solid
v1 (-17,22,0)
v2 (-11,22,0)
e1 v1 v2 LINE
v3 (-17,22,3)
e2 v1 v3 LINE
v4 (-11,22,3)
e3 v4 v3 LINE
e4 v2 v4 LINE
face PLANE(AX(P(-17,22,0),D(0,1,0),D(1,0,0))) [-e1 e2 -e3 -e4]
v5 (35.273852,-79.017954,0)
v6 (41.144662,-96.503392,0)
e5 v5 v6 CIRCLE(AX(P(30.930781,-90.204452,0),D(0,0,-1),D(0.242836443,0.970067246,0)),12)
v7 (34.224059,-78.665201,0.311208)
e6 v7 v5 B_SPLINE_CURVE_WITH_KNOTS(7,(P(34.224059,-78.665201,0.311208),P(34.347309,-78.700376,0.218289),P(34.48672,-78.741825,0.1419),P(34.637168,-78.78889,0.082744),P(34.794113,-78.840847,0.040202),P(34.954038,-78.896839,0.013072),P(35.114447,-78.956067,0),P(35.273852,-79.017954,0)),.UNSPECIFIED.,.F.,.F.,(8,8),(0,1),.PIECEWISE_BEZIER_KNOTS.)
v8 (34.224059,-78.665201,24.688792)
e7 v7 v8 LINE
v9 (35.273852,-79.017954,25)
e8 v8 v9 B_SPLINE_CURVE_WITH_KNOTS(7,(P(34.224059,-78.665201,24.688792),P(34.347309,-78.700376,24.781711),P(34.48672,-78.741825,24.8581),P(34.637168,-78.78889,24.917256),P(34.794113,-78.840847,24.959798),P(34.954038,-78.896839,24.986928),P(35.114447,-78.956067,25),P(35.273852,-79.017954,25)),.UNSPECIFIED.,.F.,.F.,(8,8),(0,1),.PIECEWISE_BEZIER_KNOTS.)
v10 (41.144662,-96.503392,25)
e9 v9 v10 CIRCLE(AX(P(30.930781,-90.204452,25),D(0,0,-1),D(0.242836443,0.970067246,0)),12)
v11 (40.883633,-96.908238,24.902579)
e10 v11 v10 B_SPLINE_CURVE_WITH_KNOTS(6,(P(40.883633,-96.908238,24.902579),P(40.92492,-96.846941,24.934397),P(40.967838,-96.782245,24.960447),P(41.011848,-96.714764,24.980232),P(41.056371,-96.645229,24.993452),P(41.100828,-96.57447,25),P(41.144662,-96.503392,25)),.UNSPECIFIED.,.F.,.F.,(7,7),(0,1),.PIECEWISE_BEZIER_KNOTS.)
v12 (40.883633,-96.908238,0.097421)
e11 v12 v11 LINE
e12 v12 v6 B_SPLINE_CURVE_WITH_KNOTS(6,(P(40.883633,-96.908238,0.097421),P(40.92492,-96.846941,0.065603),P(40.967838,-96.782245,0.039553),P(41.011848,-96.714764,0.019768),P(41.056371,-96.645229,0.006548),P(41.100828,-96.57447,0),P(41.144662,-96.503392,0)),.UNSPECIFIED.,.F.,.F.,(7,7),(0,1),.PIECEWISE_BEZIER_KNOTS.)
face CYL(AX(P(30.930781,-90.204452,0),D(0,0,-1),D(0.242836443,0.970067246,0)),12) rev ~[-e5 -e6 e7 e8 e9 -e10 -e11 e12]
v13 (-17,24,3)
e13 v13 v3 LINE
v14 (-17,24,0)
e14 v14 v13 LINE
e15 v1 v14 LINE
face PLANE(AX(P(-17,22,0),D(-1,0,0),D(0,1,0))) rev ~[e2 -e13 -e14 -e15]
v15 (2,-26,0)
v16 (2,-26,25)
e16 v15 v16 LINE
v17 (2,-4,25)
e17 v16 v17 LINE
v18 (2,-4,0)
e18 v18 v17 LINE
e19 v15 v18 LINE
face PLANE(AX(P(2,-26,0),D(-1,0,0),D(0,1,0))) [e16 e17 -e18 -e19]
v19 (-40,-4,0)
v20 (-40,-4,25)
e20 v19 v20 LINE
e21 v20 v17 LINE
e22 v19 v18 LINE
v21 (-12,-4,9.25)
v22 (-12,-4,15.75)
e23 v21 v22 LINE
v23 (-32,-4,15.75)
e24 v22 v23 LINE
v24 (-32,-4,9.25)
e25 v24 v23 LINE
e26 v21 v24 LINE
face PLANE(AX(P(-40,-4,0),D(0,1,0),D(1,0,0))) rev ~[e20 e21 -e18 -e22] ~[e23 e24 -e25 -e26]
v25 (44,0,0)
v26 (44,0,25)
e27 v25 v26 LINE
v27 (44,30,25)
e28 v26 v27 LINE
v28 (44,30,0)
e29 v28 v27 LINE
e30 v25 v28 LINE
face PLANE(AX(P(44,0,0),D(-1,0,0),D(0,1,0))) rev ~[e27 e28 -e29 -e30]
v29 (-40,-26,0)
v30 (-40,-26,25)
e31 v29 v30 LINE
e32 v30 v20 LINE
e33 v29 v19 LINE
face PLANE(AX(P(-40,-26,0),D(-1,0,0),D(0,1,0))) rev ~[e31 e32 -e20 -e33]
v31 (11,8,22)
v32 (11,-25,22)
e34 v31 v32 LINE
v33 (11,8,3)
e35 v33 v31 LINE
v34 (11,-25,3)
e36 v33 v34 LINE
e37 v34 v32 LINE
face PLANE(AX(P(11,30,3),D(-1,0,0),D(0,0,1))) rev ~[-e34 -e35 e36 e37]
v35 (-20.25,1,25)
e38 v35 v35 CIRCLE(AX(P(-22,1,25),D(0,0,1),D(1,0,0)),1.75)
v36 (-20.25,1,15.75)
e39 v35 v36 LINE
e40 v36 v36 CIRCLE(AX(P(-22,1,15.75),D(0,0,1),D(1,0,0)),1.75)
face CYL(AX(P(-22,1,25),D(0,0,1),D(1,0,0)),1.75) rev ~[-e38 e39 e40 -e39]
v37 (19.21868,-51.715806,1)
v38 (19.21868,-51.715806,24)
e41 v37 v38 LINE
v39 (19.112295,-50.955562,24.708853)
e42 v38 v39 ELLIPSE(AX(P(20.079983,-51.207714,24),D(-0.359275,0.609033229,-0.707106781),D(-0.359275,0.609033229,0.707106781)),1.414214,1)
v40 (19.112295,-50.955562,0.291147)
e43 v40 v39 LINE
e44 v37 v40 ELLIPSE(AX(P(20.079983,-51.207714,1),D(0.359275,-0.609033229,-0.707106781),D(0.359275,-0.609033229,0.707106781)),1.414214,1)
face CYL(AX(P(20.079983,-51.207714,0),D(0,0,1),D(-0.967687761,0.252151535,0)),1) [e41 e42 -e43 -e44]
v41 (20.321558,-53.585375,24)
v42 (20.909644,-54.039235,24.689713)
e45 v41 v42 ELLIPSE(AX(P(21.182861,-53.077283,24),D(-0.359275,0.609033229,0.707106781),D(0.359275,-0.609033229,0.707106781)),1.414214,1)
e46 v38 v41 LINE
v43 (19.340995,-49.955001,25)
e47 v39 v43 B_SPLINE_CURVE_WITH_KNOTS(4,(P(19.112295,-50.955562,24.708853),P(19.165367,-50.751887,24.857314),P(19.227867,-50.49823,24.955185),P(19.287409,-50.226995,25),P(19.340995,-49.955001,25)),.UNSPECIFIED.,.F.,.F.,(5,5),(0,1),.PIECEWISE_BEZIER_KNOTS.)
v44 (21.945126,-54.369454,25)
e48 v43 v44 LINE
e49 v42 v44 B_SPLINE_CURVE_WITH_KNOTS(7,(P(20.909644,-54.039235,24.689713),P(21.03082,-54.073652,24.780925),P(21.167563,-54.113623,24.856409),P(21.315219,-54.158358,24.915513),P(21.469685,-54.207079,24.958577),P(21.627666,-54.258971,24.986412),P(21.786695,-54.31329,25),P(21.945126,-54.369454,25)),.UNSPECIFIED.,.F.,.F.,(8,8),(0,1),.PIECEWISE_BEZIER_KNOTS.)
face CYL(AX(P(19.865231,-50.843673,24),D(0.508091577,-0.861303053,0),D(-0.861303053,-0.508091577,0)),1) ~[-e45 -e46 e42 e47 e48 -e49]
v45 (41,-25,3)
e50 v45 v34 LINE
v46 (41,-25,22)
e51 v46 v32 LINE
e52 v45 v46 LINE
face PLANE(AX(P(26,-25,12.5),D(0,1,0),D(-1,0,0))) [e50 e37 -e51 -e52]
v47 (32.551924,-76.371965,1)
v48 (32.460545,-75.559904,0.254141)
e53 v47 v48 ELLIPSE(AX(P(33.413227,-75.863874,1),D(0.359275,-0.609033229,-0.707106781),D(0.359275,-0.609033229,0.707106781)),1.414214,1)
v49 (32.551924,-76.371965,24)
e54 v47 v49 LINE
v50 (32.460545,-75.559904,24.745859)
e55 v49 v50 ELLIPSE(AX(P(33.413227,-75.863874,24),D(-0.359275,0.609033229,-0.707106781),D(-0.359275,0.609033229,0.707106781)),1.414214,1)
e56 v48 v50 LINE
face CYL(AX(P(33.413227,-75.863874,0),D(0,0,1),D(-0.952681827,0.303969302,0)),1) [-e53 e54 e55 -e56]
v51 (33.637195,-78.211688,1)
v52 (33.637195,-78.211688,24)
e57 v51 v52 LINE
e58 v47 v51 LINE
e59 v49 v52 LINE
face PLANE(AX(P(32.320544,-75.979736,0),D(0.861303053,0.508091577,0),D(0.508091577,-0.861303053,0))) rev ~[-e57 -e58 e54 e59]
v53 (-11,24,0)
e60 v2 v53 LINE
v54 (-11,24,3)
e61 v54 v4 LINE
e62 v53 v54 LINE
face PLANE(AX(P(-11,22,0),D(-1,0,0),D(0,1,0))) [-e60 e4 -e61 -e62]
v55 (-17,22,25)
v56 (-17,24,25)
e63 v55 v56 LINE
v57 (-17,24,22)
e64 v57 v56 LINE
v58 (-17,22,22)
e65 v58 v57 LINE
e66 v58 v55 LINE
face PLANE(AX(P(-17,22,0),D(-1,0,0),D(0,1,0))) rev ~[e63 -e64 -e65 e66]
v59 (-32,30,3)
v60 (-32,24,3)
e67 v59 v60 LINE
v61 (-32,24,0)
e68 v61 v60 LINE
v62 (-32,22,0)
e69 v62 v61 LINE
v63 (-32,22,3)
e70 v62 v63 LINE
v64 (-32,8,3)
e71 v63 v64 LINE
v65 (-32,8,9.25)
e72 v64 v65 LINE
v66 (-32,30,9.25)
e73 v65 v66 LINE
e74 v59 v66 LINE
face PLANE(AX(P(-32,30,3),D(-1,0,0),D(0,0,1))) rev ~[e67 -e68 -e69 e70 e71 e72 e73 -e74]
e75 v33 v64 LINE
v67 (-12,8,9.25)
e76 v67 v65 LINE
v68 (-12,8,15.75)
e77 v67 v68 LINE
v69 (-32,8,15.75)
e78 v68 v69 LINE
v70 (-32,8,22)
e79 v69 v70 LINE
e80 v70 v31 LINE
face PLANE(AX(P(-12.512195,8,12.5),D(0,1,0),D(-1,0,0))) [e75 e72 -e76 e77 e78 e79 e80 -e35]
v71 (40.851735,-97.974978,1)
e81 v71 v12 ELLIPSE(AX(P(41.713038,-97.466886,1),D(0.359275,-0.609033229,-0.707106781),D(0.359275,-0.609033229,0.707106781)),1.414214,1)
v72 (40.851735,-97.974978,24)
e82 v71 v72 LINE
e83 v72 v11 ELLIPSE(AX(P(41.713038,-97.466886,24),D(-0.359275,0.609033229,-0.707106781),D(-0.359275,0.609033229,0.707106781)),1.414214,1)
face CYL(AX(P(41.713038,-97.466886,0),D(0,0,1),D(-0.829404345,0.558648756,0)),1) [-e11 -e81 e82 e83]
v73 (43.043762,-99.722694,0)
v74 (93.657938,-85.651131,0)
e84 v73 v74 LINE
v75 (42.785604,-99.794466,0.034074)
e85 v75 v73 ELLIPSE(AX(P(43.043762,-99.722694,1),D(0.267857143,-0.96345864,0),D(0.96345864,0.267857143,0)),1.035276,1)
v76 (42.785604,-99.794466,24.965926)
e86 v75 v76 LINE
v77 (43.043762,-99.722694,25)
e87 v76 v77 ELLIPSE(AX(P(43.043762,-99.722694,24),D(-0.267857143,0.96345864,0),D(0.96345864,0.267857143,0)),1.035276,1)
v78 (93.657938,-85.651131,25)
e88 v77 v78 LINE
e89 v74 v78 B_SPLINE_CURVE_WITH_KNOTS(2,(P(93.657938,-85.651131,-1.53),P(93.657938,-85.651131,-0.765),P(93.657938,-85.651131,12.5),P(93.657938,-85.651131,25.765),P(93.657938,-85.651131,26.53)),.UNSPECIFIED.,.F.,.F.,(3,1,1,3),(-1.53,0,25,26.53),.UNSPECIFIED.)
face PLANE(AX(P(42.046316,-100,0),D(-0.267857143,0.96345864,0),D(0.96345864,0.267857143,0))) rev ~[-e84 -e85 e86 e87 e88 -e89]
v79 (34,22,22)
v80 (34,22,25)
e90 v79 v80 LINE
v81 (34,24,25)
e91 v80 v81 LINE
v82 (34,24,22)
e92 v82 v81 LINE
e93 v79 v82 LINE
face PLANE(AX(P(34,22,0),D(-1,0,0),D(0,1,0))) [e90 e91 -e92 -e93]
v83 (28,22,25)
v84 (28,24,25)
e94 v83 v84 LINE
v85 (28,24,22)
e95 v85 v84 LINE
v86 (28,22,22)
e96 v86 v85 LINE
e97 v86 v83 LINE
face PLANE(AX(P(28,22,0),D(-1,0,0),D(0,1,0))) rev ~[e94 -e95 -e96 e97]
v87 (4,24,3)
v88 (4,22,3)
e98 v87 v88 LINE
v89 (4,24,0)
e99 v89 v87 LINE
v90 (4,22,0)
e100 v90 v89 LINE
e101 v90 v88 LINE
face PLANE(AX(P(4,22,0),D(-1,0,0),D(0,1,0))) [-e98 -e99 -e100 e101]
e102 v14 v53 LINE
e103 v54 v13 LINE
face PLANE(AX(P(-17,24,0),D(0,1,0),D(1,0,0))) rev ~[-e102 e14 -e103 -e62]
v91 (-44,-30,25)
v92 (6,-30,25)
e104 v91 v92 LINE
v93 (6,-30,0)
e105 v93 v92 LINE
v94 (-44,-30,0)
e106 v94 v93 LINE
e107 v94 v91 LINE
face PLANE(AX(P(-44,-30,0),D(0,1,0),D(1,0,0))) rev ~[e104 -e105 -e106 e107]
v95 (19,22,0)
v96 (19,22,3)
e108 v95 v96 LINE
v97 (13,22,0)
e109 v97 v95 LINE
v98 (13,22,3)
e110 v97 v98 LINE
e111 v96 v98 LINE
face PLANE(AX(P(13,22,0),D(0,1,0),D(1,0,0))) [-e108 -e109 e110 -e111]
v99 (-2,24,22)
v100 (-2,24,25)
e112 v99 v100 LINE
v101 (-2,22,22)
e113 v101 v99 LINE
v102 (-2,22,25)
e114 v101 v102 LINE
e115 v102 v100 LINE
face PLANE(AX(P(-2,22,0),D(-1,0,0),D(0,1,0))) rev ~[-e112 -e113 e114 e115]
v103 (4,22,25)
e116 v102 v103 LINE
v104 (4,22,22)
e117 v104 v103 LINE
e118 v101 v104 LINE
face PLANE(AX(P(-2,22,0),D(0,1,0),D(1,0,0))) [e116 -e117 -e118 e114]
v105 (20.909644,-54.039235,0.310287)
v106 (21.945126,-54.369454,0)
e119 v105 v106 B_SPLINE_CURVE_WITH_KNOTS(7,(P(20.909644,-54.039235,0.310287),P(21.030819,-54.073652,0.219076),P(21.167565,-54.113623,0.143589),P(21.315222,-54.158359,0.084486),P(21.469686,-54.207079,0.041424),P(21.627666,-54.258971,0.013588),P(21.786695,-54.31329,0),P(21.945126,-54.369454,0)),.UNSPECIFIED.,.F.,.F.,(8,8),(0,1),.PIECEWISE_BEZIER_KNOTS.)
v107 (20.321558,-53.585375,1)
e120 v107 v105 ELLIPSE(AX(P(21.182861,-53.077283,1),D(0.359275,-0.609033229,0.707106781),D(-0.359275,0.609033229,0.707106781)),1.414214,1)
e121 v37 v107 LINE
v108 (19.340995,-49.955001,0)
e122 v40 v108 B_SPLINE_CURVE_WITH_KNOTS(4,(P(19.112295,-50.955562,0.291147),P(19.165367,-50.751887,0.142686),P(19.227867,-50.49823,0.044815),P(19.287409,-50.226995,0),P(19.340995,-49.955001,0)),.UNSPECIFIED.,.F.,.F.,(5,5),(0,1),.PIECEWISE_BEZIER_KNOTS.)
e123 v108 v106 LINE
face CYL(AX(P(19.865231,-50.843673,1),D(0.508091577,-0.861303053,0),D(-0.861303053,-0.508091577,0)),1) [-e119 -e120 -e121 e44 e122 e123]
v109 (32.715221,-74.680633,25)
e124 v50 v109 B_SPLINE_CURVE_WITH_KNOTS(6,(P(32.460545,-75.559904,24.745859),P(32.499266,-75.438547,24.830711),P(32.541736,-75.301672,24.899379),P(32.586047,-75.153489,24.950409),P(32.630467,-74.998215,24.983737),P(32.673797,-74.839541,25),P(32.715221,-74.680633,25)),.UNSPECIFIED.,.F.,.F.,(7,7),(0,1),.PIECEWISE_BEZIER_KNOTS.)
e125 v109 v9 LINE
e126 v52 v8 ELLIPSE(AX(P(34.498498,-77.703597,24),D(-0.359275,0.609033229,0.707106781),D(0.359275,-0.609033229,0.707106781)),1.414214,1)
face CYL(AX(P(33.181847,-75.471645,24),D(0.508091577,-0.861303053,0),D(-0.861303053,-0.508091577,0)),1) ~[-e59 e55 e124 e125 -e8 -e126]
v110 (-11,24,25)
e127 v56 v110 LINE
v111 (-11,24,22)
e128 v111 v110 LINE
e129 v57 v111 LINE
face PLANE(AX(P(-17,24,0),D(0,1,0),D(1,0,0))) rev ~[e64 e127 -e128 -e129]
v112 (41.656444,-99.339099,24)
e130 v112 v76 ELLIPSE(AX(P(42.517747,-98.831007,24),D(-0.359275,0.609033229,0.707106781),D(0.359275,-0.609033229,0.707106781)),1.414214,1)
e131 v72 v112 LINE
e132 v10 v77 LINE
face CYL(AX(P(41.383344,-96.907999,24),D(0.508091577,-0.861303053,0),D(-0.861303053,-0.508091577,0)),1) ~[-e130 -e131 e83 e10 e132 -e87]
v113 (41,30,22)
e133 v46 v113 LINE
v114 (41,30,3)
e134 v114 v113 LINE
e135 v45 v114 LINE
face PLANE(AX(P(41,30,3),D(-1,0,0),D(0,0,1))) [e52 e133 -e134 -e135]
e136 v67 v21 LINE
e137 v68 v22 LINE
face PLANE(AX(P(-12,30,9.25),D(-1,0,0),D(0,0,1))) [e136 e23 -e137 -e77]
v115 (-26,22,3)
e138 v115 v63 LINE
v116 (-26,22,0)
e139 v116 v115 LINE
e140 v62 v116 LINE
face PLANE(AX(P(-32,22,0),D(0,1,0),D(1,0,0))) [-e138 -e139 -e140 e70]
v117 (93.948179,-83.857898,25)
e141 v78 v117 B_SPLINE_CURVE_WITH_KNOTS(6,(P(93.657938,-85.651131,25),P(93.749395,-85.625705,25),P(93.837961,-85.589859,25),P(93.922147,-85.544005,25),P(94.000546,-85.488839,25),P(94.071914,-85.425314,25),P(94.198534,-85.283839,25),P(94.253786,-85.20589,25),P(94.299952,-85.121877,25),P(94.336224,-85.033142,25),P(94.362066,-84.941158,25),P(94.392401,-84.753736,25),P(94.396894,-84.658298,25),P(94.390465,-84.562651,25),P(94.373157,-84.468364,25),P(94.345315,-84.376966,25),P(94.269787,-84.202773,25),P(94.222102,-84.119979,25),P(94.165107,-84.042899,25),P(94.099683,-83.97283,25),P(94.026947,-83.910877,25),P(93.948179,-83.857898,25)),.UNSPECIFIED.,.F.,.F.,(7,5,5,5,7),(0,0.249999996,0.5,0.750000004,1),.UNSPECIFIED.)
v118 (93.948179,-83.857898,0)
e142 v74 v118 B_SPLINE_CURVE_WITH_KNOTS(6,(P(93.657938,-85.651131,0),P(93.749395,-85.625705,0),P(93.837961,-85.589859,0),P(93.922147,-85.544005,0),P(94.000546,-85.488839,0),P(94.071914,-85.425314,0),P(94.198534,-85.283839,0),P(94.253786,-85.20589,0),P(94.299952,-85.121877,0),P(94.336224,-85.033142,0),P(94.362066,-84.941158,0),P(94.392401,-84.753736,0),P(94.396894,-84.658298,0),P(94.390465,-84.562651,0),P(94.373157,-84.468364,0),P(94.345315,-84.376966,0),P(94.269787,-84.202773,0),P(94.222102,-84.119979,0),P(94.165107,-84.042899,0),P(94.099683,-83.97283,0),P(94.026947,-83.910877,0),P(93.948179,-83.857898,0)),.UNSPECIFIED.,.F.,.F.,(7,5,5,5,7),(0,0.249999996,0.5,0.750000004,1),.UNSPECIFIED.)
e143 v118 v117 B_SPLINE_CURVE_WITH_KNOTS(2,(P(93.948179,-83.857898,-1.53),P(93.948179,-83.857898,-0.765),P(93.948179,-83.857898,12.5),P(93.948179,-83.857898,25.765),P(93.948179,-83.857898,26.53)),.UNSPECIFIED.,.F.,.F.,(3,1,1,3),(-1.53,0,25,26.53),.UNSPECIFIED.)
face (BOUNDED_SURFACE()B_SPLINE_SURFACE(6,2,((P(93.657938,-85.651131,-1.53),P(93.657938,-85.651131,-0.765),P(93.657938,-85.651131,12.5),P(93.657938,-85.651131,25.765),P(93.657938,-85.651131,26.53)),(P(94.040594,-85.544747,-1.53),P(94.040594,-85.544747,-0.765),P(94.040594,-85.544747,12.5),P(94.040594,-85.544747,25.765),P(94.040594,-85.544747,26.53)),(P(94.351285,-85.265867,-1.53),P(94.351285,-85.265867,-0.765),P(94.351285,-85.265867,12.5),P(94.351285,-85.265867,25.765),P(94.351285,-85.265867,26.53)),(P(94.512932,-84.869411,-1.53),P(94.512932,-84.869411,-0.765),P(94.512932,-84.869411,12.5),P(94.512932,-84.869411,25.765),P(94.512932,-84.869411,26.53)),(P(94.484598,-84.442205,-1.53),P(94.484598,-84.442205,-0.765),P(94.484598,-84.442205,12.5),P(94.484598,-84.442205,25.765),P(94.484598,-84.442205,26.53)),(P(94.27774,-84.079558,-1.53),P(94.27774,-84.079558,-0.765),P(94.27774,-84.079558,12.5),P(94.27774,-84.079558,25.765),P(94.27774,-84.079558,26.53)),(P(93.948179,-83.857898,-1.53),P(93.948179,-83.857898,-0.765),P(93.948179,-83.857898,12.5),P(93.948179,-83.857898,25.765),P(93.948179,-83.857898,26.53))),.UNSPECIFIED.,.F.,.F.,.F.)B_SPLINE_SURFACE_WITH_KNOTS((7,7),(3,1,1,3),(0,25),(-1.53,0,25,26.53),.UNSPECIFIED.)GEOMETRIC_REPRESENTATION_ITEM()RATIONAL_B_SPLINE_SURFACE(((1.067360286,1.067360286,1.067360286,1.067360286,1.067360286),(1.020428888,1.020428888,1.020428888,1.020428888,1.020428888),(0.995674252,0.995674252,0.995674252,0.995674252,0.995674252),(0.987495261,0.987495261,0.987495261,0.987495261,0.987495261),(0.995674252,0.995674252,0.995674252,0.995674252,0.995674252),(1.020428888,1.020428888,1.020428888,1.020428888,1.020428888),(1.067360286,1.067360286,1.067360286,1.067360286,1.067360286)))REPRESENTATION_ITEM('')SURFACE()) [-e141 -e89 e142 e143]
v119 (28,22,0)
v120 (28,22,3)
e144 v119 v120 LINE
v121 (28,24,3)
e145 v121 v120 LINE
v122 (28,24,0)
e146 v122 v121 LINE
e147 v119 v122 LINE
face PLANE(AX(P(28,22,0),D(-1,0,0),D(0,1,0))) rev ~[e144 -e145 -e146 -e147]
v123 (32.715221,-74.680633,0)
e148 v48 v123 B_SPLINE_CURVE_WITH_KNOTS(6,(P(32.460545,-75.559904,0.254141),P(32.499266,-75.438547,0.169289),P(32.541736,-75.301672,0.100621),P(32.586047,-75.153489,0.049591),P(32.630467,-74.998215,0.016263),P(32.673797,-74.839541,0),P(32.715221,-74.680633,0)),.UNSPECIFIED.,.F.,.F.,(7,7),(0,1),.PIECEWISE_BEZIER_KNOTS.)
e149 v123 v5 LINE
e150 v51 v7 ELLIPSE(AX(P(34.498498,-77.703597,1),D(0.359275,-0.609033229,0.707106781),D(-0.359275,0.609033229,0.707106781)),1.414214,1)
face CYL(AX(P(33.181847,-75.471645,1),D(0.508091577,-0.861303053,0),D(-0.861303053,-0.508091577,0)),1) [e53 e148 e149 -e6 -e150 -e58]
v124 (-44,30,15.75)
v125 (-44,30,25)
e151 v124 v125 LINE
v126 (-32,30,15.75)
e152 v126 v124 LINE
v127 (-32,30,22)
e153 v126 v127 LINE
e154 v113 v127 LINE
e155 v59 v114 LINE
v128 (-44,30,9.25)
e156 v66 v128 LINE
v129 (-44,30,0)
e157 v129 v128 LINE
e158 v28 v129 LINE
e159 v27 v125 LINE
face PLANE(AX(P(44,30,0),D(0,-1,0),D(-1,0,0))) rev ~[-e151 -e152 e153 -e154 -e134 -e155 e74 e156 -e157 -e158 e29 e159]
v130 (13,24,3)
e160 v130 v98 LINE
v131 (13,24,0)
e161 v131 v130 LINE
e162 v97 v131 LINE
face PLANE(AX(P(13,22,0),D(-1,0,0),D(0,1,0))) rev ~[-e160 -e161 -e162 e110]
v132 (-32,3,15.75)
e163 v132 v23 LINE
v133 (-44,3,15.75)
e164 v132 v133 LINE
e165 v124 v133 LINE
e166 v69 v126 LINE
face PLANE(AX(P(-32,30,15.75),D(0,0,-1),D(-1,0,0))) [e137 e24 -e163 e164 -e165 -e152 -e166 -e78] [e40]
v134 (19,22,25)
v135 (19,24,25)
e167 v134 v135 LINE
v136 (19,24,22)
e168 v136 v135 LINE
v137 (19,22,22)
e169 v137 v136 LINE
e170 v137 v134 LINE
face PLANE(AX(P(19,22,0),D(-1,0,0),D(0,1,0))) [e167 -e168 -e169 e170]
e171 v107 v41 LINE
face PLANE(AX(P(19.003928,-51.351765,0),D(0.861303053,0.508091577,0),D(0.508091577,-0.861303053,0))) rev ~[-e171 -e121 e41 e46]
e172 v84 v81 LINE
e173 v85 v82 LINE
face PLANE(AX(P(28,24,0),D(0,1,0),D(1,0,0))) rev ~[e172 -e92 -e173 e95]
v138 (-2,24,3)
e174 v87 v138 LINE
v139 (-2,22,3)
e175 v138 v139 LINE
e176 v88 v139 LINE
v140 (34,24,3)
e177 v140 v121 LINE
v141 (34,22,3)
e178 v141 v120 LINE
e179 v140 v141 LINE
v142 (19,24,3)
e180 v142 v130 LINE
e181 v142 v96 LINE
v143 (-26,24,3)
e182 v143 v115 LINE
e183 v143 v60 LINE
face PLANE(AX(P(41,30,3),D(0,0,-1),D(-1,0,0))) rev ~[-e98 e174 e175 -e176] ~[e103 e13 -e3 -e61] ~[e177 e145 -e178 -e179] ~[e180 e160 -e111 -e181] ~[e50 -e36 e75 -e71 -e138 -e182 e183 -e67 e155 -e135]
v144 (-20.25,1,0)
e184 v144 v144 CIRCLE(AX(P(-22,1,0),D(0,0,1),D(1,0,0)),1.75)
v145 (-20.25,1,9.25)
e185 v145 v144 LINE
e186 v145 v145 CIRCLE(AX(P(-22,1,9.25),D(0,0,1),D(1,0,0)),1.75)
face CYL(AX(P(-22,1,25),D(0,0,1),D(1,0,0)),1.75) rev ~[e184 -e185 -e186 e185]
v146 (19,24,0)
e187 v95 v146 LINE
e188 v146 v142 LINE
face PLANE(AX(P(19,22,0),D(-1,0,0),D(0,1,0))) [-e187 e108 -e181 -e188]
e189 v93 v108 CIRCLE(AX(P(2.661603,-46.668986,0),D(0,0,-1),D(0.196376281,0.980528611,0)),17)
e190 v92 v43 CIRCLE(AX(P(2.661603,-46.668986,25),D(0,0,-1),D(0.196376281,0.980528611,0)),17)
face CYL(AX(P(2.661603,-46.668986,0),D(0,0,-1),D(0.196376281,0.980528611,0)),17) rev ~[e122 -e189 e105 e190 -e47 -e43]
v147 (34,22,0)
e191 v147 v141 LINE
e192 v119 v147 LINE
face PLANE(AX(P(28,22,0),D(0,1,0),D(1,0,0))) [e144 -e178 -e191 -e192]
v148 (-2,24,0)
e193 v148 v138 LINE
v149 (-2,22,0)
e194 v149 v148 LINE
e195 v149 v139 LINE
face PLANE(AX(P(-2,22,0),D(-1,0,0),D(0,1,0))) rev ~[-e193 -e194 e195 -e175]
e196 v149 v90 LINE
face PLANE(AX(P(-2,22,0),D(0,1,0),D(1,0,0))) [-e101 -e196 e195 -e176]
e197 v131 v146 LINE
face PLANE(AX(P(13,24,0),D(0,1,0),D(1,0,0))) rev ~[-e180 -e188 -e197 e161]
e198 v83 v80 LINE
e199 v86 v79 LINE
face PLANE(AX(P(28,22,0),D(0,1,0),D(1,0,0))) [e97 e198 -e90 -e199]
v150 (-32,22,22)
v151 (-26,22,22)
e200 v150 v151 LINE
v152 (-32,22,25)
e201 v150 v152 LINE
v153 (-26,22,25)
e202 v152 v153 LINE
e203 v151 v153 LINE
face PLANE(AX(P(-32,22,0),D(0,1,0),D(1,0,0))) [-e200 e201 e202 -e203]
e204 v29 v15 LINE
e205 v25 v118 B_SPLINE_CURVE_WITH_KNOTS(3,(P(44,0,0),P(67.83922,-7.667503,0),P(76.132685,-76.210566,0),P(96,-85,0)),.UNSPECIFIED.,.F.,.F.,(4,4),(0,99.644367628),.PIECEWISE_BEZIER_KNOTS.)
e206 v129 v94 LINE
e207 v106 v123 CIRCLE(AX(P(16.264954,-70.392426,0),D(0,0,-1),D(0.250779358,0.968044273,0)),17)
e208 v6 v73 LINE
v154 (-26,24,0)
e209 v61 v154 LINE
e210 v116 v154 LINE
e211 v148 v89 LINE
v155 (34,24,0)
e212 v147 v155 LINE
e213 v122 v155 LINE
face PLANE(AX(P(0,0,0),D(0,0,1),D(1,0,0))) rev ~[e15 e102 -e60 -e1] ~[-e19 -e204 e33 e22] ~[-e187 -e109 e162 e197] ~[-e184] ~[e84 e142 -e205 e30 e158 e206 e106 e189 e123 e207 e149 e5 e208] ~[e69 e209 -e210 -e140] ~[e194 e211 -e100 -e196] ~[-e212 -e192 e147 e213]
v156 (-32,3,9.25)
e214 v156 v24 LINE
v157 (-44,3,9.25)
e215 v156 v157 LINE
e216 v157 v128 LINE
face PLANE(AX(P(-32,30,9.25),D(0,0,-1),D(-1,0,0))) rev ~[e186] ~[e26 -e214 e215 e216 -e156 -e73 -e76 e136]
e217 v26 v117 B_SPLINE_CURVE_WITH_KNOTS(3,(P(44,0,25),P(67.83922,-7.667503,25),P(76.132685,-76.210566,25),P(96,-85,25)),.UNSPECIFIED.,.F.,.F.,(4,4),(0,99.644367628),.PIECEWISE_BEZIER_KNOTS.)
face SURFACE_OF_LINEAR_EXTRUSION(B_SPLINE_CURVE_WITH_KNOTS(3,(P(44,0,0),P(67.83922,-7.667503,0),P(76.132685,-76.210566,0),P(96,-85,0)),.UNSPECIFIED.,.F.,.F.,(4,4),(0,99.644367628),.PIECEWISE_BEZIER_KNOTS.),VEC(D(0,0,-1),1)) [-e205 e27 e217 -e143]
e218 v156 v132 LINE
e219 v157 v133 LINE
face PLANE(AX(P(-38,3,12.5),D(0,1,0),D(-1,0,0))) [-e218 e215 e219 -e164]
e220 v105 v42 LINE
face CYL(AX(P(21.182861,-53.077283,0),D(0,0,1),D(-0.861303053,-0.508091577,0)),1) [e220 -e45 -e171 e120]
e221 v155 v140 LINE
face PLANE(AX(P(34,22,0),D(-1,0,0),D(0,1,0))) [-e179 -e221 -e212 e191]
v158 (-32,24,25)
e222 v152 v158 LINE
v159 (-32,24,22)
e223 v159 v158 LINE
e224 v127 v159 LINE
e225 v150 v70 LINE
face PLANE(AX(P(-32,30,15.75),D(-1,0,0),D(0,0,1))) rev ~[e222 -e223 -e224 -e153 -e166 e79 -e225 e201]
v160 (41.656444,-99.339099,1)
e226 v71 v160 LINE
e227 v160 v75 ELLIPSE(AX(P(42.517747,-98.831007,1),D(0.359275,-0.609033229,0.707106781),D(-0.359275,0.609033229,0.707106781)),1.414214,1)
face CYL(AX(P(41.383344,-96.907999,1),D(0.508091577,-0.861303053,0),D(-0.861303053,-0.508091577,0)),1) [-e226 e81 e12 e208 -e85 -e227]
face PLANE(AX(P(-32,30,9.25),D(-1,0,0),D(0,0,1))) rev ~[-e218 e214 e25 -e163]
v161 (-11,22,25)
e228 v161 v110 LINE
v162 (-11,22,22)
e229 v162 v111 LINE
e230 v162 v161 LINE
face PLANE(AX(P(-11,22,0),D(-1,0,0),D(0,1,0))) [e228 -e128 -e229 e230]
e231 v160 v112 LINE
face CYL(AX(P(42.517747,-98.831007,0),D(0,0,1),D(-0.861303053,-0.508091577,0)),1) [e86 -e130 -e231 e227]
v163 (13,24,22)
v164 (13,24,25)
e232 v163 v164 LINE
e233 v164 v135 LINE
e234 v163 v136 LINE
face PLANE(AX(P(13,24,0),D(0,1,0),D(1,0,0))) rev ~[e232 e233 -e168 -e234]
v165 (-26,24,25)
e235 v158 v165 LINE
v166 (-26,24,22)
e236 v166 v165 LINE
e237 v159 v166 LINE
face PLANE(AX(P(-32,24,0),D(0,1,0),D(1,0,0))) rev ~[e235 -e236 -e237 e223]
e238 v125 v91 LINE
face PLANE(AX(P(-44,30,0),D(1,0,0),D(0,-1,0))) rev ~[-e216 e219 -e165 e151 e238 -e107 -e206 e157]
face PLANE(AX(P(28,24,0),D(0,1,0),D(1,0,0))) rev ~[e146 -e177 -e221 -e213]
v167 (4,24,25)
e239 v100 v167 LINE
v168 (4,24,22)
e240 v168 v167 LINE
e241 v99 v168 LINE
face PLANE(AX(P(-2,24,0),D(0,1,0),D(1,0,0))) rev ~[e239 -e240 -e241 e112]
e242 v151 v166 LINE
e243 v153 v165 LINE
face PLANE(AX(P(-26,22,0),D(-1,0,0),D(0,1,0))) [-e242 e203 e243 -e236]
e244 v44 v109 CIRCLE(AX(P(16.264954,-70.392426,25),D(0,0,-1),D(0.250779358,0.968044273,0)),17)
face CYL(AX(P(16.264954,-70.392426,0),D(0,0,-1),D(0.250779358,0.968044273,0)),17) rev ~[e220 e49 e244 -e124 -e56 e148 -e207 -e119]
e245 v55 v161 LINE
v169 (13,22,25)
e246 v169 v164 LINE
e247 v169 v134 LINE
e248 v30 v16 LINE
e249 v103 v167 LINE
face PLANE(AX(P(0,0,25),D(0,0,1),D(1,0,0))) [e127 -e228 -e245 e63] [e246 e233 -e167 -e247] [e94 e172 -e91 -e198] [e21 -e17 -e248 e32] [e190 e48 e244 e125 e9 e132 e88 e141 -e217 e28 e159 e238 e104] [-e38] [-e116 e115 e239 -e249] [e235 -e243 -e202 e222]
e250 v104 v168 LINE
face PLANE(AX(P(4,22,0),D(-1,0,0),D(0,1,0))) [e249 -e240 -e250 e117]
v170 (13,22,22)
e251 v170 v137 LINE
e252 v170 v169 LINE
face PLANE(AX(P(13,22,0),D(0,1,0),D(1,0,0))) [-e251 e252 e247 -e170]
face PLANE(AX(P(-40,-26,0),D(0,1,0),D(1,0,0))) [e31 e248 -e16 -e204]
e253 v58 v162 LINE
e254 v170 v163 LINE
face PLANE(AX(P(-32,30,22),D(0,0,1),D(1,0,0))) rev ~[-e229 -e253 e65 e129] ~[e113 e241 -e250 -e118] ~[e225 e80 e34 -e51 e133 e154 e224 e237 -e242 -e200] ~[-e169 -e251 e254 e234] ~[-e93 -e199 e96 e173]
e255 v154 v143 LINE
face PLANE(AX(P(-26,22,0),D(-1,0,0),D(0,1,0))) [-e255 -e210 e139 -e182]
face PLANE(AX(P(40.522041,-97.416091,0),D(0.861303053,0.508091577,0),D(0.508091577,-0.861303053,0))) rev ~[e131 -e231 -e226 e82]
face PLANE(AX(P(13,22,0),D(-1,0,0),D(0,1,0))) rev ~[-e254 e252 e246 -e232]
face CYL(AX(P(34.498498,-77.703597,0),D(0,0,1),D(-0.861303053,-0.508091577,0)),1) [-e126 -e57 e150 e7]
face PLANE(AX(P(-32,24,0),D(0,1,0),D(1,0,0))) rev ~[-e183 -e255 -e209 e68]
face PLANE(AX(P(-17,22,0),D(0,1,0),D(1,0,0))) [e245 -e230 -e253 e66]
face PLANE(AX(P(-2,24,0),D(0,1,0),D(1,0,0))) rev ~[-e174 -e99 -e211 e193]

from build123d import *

# Parameters (mm, degrees)
F0_W     = 42
F0_H     = 22
F0_W_2   = 6
F0_H_2   = 2
F1_DEPTH = 25
F2_W     = 30
F2_H     = 19
F2_W_2   = 20
F2_H_2   = 6.5
F2_W_3   = 12
F3_DEPTH = 22
F4_DEPTH = 55
F5_DEPTH = 34
F6_DEPTH = 27
F7_R     = 1
F8_R     = 1.75
F9_DEPTH = 25.0010001


with BuildPart() as f1:
    # F0 (on Top) → F1 (new body)
    with BuildSketch(Plane.XY):
        Polygon((44, 30), (-44, 30), (-44, -30), (6, -30), (44, -30), (44, 0), align=None)
        with Locations((-19, -15)):
            Rectangle(F0_W, F0_H, mode=Mode.SUBTRACT)
        with Locations((-29, 23)):
            Rectangle(F0_W_2, F0_H_2, mode=Mode.SUBTRACT)
        with Locations((-14, 23)):
            Rectangle(F0_W_2, F0_H_2, mode=Mode.SUBTRACT)
        with Locations((1, 23)):
            Rectangle(F0_W_2, F0_H_2, mode=Mode.SUBTRACT)
        with Locations((16, 23)):
            Rectangle(F0_W_2, F0_H_2, mode=Mode.SUBTRACT)
        with Locations((31, 23)):
            Rectangle(F0_W_2, F0_H_2, mode=Mode.SUBTRACT)
        with BuildLine():
            add(Edge.make_bspline(
                [(44, 0), (67.8392201662, -7.6675033197), (76.1326849461, -76.210565865), (96, -85)],
                knots=[0, 0, 0, 0, 99.6443676281, 99.6443676281, 99.6443676281, 99.6443676281], degree=3))
            Line((44, 0), (44, -30))
            Line((44, -30), (6, -30))
            ThreePointArc((6, -30), (17.1808031069, -37.8263151446), (19.0039282867, -51.3517645433))
            Line((19.0039282867, -51.3517645433), (20.5282030185, -53.9356737024))
            ThreePointArc((20.5282030185, -53.9356737024), (31.2549165387, -62.3736345883), (32.3205438236, -75.9797363573))
            Line((32.3205438236, -75.9797363573), (33.8448185554, -78.5636455164))
            ThreePointArc((33.8448185554, -78.5636455164), (42.2422484339, -86.1981187462), (40.5220414274, -97.416090841))
            Line((40.5220414274, -97.416090841), (42.0463161591, -100))
            Line((42.0463161591, -100), (96, -85))
        make_face()
    extrude(amount=F1_DEPTH)

    # F2 (on face) → F3 (cut)
    with BuildSketch(Plane(origin=(0, 30, 0), x_dir=(-1, 0, 0), z_dir=(0, 1, 0))):
        Polygon((32, 22), (-11, 22), (-11, 3), (32, 3), (32, 9.25), (12, 9.25), (12, 15.75), (32, 15.75), align=None)
        with Locations((-26, 12.5)):
            Rectangle(F2_W, F2_H)
        with Locations((22, 12.5)):
            Rectangle(F2_W_2, F2_H_2)
        with Locations((38, 12.5)):
            Rectangle(F2_W_3, F2_H_2)
    extrude(amount=-F3_DEPTH, mode=Mode.SUBTRACT)

    # F2 (on face) → F4 (cut)
    with BuildSketch(Plane(origin=(0, 30, 0), x_dir=(-1, 0, 0), z_dir=(0, 1, 0))):
        with Locations((-26, 12.5)):
            Rectangle(F2_W, F2_H)
    extrude(amount=-F4_DEPTH, mode=Mode.SUBTRACT)

    # F2 (on face) → F5 (cut, through all)
    with BuildSketch(Plane(origin=(0, 30, 0), x_dir=(-1, 0, 0), z_dir=(0, 1, 0))):
        with Locations((22, 12.5)):
            Rectangle(F2_W_2, F2_H_2)
    extrude(amount=-F5_DEPTH, mode=Mode.SUBTRACT)

    # F2 (on face) → F6 (cut)
    with BuildSketch(Plane(origin=(0, 30, 0), x_dir=(-1, 0, 0), z_dir=(0, 1, 0))):
        with Locations((38, 12.5)):
            Rectangle(F2_W_3, F2_H_2)
    extrude(amount=-F6_DEPTH, mode=Mode.SUBTRACT)

    # F7
    f7_edges = [f1.edges().sort_by_distance(p)[0] for p in [
        (20.528203, -53.935674, 12.5),
        (19.003928, -51.351765, 12.5),
        (19.766066, -52.643719, 0),
        (19.766066, -52.643719, 25),
        (33.844819, -78.563646, 12.5),
        (32.320544, -75.979736, 12.5),
        (33.082681, -77.271691, 0),
        (33.082681, -77.271691, 25),
        (42.046316, -100, 12.5),
        (40.522041, -97.416091, 12.5),
        (41.284179, -98.708045, 0),
        (41.284179, -98.708045, 25),
        (96, -85, 12.5),
    ]]
    fillet(f7_edges, radius=F7_R)

    # F8 (on face) → F9 (cut, through all)
    with BuildSketch(Plane.XY.offset(25)):
        with Locations((-22, 1)):
            Circle(F8_R)
    extrude(amount=-F9_DEPTH, mode=Mode.SUBTRACT)


solid = f1.part
